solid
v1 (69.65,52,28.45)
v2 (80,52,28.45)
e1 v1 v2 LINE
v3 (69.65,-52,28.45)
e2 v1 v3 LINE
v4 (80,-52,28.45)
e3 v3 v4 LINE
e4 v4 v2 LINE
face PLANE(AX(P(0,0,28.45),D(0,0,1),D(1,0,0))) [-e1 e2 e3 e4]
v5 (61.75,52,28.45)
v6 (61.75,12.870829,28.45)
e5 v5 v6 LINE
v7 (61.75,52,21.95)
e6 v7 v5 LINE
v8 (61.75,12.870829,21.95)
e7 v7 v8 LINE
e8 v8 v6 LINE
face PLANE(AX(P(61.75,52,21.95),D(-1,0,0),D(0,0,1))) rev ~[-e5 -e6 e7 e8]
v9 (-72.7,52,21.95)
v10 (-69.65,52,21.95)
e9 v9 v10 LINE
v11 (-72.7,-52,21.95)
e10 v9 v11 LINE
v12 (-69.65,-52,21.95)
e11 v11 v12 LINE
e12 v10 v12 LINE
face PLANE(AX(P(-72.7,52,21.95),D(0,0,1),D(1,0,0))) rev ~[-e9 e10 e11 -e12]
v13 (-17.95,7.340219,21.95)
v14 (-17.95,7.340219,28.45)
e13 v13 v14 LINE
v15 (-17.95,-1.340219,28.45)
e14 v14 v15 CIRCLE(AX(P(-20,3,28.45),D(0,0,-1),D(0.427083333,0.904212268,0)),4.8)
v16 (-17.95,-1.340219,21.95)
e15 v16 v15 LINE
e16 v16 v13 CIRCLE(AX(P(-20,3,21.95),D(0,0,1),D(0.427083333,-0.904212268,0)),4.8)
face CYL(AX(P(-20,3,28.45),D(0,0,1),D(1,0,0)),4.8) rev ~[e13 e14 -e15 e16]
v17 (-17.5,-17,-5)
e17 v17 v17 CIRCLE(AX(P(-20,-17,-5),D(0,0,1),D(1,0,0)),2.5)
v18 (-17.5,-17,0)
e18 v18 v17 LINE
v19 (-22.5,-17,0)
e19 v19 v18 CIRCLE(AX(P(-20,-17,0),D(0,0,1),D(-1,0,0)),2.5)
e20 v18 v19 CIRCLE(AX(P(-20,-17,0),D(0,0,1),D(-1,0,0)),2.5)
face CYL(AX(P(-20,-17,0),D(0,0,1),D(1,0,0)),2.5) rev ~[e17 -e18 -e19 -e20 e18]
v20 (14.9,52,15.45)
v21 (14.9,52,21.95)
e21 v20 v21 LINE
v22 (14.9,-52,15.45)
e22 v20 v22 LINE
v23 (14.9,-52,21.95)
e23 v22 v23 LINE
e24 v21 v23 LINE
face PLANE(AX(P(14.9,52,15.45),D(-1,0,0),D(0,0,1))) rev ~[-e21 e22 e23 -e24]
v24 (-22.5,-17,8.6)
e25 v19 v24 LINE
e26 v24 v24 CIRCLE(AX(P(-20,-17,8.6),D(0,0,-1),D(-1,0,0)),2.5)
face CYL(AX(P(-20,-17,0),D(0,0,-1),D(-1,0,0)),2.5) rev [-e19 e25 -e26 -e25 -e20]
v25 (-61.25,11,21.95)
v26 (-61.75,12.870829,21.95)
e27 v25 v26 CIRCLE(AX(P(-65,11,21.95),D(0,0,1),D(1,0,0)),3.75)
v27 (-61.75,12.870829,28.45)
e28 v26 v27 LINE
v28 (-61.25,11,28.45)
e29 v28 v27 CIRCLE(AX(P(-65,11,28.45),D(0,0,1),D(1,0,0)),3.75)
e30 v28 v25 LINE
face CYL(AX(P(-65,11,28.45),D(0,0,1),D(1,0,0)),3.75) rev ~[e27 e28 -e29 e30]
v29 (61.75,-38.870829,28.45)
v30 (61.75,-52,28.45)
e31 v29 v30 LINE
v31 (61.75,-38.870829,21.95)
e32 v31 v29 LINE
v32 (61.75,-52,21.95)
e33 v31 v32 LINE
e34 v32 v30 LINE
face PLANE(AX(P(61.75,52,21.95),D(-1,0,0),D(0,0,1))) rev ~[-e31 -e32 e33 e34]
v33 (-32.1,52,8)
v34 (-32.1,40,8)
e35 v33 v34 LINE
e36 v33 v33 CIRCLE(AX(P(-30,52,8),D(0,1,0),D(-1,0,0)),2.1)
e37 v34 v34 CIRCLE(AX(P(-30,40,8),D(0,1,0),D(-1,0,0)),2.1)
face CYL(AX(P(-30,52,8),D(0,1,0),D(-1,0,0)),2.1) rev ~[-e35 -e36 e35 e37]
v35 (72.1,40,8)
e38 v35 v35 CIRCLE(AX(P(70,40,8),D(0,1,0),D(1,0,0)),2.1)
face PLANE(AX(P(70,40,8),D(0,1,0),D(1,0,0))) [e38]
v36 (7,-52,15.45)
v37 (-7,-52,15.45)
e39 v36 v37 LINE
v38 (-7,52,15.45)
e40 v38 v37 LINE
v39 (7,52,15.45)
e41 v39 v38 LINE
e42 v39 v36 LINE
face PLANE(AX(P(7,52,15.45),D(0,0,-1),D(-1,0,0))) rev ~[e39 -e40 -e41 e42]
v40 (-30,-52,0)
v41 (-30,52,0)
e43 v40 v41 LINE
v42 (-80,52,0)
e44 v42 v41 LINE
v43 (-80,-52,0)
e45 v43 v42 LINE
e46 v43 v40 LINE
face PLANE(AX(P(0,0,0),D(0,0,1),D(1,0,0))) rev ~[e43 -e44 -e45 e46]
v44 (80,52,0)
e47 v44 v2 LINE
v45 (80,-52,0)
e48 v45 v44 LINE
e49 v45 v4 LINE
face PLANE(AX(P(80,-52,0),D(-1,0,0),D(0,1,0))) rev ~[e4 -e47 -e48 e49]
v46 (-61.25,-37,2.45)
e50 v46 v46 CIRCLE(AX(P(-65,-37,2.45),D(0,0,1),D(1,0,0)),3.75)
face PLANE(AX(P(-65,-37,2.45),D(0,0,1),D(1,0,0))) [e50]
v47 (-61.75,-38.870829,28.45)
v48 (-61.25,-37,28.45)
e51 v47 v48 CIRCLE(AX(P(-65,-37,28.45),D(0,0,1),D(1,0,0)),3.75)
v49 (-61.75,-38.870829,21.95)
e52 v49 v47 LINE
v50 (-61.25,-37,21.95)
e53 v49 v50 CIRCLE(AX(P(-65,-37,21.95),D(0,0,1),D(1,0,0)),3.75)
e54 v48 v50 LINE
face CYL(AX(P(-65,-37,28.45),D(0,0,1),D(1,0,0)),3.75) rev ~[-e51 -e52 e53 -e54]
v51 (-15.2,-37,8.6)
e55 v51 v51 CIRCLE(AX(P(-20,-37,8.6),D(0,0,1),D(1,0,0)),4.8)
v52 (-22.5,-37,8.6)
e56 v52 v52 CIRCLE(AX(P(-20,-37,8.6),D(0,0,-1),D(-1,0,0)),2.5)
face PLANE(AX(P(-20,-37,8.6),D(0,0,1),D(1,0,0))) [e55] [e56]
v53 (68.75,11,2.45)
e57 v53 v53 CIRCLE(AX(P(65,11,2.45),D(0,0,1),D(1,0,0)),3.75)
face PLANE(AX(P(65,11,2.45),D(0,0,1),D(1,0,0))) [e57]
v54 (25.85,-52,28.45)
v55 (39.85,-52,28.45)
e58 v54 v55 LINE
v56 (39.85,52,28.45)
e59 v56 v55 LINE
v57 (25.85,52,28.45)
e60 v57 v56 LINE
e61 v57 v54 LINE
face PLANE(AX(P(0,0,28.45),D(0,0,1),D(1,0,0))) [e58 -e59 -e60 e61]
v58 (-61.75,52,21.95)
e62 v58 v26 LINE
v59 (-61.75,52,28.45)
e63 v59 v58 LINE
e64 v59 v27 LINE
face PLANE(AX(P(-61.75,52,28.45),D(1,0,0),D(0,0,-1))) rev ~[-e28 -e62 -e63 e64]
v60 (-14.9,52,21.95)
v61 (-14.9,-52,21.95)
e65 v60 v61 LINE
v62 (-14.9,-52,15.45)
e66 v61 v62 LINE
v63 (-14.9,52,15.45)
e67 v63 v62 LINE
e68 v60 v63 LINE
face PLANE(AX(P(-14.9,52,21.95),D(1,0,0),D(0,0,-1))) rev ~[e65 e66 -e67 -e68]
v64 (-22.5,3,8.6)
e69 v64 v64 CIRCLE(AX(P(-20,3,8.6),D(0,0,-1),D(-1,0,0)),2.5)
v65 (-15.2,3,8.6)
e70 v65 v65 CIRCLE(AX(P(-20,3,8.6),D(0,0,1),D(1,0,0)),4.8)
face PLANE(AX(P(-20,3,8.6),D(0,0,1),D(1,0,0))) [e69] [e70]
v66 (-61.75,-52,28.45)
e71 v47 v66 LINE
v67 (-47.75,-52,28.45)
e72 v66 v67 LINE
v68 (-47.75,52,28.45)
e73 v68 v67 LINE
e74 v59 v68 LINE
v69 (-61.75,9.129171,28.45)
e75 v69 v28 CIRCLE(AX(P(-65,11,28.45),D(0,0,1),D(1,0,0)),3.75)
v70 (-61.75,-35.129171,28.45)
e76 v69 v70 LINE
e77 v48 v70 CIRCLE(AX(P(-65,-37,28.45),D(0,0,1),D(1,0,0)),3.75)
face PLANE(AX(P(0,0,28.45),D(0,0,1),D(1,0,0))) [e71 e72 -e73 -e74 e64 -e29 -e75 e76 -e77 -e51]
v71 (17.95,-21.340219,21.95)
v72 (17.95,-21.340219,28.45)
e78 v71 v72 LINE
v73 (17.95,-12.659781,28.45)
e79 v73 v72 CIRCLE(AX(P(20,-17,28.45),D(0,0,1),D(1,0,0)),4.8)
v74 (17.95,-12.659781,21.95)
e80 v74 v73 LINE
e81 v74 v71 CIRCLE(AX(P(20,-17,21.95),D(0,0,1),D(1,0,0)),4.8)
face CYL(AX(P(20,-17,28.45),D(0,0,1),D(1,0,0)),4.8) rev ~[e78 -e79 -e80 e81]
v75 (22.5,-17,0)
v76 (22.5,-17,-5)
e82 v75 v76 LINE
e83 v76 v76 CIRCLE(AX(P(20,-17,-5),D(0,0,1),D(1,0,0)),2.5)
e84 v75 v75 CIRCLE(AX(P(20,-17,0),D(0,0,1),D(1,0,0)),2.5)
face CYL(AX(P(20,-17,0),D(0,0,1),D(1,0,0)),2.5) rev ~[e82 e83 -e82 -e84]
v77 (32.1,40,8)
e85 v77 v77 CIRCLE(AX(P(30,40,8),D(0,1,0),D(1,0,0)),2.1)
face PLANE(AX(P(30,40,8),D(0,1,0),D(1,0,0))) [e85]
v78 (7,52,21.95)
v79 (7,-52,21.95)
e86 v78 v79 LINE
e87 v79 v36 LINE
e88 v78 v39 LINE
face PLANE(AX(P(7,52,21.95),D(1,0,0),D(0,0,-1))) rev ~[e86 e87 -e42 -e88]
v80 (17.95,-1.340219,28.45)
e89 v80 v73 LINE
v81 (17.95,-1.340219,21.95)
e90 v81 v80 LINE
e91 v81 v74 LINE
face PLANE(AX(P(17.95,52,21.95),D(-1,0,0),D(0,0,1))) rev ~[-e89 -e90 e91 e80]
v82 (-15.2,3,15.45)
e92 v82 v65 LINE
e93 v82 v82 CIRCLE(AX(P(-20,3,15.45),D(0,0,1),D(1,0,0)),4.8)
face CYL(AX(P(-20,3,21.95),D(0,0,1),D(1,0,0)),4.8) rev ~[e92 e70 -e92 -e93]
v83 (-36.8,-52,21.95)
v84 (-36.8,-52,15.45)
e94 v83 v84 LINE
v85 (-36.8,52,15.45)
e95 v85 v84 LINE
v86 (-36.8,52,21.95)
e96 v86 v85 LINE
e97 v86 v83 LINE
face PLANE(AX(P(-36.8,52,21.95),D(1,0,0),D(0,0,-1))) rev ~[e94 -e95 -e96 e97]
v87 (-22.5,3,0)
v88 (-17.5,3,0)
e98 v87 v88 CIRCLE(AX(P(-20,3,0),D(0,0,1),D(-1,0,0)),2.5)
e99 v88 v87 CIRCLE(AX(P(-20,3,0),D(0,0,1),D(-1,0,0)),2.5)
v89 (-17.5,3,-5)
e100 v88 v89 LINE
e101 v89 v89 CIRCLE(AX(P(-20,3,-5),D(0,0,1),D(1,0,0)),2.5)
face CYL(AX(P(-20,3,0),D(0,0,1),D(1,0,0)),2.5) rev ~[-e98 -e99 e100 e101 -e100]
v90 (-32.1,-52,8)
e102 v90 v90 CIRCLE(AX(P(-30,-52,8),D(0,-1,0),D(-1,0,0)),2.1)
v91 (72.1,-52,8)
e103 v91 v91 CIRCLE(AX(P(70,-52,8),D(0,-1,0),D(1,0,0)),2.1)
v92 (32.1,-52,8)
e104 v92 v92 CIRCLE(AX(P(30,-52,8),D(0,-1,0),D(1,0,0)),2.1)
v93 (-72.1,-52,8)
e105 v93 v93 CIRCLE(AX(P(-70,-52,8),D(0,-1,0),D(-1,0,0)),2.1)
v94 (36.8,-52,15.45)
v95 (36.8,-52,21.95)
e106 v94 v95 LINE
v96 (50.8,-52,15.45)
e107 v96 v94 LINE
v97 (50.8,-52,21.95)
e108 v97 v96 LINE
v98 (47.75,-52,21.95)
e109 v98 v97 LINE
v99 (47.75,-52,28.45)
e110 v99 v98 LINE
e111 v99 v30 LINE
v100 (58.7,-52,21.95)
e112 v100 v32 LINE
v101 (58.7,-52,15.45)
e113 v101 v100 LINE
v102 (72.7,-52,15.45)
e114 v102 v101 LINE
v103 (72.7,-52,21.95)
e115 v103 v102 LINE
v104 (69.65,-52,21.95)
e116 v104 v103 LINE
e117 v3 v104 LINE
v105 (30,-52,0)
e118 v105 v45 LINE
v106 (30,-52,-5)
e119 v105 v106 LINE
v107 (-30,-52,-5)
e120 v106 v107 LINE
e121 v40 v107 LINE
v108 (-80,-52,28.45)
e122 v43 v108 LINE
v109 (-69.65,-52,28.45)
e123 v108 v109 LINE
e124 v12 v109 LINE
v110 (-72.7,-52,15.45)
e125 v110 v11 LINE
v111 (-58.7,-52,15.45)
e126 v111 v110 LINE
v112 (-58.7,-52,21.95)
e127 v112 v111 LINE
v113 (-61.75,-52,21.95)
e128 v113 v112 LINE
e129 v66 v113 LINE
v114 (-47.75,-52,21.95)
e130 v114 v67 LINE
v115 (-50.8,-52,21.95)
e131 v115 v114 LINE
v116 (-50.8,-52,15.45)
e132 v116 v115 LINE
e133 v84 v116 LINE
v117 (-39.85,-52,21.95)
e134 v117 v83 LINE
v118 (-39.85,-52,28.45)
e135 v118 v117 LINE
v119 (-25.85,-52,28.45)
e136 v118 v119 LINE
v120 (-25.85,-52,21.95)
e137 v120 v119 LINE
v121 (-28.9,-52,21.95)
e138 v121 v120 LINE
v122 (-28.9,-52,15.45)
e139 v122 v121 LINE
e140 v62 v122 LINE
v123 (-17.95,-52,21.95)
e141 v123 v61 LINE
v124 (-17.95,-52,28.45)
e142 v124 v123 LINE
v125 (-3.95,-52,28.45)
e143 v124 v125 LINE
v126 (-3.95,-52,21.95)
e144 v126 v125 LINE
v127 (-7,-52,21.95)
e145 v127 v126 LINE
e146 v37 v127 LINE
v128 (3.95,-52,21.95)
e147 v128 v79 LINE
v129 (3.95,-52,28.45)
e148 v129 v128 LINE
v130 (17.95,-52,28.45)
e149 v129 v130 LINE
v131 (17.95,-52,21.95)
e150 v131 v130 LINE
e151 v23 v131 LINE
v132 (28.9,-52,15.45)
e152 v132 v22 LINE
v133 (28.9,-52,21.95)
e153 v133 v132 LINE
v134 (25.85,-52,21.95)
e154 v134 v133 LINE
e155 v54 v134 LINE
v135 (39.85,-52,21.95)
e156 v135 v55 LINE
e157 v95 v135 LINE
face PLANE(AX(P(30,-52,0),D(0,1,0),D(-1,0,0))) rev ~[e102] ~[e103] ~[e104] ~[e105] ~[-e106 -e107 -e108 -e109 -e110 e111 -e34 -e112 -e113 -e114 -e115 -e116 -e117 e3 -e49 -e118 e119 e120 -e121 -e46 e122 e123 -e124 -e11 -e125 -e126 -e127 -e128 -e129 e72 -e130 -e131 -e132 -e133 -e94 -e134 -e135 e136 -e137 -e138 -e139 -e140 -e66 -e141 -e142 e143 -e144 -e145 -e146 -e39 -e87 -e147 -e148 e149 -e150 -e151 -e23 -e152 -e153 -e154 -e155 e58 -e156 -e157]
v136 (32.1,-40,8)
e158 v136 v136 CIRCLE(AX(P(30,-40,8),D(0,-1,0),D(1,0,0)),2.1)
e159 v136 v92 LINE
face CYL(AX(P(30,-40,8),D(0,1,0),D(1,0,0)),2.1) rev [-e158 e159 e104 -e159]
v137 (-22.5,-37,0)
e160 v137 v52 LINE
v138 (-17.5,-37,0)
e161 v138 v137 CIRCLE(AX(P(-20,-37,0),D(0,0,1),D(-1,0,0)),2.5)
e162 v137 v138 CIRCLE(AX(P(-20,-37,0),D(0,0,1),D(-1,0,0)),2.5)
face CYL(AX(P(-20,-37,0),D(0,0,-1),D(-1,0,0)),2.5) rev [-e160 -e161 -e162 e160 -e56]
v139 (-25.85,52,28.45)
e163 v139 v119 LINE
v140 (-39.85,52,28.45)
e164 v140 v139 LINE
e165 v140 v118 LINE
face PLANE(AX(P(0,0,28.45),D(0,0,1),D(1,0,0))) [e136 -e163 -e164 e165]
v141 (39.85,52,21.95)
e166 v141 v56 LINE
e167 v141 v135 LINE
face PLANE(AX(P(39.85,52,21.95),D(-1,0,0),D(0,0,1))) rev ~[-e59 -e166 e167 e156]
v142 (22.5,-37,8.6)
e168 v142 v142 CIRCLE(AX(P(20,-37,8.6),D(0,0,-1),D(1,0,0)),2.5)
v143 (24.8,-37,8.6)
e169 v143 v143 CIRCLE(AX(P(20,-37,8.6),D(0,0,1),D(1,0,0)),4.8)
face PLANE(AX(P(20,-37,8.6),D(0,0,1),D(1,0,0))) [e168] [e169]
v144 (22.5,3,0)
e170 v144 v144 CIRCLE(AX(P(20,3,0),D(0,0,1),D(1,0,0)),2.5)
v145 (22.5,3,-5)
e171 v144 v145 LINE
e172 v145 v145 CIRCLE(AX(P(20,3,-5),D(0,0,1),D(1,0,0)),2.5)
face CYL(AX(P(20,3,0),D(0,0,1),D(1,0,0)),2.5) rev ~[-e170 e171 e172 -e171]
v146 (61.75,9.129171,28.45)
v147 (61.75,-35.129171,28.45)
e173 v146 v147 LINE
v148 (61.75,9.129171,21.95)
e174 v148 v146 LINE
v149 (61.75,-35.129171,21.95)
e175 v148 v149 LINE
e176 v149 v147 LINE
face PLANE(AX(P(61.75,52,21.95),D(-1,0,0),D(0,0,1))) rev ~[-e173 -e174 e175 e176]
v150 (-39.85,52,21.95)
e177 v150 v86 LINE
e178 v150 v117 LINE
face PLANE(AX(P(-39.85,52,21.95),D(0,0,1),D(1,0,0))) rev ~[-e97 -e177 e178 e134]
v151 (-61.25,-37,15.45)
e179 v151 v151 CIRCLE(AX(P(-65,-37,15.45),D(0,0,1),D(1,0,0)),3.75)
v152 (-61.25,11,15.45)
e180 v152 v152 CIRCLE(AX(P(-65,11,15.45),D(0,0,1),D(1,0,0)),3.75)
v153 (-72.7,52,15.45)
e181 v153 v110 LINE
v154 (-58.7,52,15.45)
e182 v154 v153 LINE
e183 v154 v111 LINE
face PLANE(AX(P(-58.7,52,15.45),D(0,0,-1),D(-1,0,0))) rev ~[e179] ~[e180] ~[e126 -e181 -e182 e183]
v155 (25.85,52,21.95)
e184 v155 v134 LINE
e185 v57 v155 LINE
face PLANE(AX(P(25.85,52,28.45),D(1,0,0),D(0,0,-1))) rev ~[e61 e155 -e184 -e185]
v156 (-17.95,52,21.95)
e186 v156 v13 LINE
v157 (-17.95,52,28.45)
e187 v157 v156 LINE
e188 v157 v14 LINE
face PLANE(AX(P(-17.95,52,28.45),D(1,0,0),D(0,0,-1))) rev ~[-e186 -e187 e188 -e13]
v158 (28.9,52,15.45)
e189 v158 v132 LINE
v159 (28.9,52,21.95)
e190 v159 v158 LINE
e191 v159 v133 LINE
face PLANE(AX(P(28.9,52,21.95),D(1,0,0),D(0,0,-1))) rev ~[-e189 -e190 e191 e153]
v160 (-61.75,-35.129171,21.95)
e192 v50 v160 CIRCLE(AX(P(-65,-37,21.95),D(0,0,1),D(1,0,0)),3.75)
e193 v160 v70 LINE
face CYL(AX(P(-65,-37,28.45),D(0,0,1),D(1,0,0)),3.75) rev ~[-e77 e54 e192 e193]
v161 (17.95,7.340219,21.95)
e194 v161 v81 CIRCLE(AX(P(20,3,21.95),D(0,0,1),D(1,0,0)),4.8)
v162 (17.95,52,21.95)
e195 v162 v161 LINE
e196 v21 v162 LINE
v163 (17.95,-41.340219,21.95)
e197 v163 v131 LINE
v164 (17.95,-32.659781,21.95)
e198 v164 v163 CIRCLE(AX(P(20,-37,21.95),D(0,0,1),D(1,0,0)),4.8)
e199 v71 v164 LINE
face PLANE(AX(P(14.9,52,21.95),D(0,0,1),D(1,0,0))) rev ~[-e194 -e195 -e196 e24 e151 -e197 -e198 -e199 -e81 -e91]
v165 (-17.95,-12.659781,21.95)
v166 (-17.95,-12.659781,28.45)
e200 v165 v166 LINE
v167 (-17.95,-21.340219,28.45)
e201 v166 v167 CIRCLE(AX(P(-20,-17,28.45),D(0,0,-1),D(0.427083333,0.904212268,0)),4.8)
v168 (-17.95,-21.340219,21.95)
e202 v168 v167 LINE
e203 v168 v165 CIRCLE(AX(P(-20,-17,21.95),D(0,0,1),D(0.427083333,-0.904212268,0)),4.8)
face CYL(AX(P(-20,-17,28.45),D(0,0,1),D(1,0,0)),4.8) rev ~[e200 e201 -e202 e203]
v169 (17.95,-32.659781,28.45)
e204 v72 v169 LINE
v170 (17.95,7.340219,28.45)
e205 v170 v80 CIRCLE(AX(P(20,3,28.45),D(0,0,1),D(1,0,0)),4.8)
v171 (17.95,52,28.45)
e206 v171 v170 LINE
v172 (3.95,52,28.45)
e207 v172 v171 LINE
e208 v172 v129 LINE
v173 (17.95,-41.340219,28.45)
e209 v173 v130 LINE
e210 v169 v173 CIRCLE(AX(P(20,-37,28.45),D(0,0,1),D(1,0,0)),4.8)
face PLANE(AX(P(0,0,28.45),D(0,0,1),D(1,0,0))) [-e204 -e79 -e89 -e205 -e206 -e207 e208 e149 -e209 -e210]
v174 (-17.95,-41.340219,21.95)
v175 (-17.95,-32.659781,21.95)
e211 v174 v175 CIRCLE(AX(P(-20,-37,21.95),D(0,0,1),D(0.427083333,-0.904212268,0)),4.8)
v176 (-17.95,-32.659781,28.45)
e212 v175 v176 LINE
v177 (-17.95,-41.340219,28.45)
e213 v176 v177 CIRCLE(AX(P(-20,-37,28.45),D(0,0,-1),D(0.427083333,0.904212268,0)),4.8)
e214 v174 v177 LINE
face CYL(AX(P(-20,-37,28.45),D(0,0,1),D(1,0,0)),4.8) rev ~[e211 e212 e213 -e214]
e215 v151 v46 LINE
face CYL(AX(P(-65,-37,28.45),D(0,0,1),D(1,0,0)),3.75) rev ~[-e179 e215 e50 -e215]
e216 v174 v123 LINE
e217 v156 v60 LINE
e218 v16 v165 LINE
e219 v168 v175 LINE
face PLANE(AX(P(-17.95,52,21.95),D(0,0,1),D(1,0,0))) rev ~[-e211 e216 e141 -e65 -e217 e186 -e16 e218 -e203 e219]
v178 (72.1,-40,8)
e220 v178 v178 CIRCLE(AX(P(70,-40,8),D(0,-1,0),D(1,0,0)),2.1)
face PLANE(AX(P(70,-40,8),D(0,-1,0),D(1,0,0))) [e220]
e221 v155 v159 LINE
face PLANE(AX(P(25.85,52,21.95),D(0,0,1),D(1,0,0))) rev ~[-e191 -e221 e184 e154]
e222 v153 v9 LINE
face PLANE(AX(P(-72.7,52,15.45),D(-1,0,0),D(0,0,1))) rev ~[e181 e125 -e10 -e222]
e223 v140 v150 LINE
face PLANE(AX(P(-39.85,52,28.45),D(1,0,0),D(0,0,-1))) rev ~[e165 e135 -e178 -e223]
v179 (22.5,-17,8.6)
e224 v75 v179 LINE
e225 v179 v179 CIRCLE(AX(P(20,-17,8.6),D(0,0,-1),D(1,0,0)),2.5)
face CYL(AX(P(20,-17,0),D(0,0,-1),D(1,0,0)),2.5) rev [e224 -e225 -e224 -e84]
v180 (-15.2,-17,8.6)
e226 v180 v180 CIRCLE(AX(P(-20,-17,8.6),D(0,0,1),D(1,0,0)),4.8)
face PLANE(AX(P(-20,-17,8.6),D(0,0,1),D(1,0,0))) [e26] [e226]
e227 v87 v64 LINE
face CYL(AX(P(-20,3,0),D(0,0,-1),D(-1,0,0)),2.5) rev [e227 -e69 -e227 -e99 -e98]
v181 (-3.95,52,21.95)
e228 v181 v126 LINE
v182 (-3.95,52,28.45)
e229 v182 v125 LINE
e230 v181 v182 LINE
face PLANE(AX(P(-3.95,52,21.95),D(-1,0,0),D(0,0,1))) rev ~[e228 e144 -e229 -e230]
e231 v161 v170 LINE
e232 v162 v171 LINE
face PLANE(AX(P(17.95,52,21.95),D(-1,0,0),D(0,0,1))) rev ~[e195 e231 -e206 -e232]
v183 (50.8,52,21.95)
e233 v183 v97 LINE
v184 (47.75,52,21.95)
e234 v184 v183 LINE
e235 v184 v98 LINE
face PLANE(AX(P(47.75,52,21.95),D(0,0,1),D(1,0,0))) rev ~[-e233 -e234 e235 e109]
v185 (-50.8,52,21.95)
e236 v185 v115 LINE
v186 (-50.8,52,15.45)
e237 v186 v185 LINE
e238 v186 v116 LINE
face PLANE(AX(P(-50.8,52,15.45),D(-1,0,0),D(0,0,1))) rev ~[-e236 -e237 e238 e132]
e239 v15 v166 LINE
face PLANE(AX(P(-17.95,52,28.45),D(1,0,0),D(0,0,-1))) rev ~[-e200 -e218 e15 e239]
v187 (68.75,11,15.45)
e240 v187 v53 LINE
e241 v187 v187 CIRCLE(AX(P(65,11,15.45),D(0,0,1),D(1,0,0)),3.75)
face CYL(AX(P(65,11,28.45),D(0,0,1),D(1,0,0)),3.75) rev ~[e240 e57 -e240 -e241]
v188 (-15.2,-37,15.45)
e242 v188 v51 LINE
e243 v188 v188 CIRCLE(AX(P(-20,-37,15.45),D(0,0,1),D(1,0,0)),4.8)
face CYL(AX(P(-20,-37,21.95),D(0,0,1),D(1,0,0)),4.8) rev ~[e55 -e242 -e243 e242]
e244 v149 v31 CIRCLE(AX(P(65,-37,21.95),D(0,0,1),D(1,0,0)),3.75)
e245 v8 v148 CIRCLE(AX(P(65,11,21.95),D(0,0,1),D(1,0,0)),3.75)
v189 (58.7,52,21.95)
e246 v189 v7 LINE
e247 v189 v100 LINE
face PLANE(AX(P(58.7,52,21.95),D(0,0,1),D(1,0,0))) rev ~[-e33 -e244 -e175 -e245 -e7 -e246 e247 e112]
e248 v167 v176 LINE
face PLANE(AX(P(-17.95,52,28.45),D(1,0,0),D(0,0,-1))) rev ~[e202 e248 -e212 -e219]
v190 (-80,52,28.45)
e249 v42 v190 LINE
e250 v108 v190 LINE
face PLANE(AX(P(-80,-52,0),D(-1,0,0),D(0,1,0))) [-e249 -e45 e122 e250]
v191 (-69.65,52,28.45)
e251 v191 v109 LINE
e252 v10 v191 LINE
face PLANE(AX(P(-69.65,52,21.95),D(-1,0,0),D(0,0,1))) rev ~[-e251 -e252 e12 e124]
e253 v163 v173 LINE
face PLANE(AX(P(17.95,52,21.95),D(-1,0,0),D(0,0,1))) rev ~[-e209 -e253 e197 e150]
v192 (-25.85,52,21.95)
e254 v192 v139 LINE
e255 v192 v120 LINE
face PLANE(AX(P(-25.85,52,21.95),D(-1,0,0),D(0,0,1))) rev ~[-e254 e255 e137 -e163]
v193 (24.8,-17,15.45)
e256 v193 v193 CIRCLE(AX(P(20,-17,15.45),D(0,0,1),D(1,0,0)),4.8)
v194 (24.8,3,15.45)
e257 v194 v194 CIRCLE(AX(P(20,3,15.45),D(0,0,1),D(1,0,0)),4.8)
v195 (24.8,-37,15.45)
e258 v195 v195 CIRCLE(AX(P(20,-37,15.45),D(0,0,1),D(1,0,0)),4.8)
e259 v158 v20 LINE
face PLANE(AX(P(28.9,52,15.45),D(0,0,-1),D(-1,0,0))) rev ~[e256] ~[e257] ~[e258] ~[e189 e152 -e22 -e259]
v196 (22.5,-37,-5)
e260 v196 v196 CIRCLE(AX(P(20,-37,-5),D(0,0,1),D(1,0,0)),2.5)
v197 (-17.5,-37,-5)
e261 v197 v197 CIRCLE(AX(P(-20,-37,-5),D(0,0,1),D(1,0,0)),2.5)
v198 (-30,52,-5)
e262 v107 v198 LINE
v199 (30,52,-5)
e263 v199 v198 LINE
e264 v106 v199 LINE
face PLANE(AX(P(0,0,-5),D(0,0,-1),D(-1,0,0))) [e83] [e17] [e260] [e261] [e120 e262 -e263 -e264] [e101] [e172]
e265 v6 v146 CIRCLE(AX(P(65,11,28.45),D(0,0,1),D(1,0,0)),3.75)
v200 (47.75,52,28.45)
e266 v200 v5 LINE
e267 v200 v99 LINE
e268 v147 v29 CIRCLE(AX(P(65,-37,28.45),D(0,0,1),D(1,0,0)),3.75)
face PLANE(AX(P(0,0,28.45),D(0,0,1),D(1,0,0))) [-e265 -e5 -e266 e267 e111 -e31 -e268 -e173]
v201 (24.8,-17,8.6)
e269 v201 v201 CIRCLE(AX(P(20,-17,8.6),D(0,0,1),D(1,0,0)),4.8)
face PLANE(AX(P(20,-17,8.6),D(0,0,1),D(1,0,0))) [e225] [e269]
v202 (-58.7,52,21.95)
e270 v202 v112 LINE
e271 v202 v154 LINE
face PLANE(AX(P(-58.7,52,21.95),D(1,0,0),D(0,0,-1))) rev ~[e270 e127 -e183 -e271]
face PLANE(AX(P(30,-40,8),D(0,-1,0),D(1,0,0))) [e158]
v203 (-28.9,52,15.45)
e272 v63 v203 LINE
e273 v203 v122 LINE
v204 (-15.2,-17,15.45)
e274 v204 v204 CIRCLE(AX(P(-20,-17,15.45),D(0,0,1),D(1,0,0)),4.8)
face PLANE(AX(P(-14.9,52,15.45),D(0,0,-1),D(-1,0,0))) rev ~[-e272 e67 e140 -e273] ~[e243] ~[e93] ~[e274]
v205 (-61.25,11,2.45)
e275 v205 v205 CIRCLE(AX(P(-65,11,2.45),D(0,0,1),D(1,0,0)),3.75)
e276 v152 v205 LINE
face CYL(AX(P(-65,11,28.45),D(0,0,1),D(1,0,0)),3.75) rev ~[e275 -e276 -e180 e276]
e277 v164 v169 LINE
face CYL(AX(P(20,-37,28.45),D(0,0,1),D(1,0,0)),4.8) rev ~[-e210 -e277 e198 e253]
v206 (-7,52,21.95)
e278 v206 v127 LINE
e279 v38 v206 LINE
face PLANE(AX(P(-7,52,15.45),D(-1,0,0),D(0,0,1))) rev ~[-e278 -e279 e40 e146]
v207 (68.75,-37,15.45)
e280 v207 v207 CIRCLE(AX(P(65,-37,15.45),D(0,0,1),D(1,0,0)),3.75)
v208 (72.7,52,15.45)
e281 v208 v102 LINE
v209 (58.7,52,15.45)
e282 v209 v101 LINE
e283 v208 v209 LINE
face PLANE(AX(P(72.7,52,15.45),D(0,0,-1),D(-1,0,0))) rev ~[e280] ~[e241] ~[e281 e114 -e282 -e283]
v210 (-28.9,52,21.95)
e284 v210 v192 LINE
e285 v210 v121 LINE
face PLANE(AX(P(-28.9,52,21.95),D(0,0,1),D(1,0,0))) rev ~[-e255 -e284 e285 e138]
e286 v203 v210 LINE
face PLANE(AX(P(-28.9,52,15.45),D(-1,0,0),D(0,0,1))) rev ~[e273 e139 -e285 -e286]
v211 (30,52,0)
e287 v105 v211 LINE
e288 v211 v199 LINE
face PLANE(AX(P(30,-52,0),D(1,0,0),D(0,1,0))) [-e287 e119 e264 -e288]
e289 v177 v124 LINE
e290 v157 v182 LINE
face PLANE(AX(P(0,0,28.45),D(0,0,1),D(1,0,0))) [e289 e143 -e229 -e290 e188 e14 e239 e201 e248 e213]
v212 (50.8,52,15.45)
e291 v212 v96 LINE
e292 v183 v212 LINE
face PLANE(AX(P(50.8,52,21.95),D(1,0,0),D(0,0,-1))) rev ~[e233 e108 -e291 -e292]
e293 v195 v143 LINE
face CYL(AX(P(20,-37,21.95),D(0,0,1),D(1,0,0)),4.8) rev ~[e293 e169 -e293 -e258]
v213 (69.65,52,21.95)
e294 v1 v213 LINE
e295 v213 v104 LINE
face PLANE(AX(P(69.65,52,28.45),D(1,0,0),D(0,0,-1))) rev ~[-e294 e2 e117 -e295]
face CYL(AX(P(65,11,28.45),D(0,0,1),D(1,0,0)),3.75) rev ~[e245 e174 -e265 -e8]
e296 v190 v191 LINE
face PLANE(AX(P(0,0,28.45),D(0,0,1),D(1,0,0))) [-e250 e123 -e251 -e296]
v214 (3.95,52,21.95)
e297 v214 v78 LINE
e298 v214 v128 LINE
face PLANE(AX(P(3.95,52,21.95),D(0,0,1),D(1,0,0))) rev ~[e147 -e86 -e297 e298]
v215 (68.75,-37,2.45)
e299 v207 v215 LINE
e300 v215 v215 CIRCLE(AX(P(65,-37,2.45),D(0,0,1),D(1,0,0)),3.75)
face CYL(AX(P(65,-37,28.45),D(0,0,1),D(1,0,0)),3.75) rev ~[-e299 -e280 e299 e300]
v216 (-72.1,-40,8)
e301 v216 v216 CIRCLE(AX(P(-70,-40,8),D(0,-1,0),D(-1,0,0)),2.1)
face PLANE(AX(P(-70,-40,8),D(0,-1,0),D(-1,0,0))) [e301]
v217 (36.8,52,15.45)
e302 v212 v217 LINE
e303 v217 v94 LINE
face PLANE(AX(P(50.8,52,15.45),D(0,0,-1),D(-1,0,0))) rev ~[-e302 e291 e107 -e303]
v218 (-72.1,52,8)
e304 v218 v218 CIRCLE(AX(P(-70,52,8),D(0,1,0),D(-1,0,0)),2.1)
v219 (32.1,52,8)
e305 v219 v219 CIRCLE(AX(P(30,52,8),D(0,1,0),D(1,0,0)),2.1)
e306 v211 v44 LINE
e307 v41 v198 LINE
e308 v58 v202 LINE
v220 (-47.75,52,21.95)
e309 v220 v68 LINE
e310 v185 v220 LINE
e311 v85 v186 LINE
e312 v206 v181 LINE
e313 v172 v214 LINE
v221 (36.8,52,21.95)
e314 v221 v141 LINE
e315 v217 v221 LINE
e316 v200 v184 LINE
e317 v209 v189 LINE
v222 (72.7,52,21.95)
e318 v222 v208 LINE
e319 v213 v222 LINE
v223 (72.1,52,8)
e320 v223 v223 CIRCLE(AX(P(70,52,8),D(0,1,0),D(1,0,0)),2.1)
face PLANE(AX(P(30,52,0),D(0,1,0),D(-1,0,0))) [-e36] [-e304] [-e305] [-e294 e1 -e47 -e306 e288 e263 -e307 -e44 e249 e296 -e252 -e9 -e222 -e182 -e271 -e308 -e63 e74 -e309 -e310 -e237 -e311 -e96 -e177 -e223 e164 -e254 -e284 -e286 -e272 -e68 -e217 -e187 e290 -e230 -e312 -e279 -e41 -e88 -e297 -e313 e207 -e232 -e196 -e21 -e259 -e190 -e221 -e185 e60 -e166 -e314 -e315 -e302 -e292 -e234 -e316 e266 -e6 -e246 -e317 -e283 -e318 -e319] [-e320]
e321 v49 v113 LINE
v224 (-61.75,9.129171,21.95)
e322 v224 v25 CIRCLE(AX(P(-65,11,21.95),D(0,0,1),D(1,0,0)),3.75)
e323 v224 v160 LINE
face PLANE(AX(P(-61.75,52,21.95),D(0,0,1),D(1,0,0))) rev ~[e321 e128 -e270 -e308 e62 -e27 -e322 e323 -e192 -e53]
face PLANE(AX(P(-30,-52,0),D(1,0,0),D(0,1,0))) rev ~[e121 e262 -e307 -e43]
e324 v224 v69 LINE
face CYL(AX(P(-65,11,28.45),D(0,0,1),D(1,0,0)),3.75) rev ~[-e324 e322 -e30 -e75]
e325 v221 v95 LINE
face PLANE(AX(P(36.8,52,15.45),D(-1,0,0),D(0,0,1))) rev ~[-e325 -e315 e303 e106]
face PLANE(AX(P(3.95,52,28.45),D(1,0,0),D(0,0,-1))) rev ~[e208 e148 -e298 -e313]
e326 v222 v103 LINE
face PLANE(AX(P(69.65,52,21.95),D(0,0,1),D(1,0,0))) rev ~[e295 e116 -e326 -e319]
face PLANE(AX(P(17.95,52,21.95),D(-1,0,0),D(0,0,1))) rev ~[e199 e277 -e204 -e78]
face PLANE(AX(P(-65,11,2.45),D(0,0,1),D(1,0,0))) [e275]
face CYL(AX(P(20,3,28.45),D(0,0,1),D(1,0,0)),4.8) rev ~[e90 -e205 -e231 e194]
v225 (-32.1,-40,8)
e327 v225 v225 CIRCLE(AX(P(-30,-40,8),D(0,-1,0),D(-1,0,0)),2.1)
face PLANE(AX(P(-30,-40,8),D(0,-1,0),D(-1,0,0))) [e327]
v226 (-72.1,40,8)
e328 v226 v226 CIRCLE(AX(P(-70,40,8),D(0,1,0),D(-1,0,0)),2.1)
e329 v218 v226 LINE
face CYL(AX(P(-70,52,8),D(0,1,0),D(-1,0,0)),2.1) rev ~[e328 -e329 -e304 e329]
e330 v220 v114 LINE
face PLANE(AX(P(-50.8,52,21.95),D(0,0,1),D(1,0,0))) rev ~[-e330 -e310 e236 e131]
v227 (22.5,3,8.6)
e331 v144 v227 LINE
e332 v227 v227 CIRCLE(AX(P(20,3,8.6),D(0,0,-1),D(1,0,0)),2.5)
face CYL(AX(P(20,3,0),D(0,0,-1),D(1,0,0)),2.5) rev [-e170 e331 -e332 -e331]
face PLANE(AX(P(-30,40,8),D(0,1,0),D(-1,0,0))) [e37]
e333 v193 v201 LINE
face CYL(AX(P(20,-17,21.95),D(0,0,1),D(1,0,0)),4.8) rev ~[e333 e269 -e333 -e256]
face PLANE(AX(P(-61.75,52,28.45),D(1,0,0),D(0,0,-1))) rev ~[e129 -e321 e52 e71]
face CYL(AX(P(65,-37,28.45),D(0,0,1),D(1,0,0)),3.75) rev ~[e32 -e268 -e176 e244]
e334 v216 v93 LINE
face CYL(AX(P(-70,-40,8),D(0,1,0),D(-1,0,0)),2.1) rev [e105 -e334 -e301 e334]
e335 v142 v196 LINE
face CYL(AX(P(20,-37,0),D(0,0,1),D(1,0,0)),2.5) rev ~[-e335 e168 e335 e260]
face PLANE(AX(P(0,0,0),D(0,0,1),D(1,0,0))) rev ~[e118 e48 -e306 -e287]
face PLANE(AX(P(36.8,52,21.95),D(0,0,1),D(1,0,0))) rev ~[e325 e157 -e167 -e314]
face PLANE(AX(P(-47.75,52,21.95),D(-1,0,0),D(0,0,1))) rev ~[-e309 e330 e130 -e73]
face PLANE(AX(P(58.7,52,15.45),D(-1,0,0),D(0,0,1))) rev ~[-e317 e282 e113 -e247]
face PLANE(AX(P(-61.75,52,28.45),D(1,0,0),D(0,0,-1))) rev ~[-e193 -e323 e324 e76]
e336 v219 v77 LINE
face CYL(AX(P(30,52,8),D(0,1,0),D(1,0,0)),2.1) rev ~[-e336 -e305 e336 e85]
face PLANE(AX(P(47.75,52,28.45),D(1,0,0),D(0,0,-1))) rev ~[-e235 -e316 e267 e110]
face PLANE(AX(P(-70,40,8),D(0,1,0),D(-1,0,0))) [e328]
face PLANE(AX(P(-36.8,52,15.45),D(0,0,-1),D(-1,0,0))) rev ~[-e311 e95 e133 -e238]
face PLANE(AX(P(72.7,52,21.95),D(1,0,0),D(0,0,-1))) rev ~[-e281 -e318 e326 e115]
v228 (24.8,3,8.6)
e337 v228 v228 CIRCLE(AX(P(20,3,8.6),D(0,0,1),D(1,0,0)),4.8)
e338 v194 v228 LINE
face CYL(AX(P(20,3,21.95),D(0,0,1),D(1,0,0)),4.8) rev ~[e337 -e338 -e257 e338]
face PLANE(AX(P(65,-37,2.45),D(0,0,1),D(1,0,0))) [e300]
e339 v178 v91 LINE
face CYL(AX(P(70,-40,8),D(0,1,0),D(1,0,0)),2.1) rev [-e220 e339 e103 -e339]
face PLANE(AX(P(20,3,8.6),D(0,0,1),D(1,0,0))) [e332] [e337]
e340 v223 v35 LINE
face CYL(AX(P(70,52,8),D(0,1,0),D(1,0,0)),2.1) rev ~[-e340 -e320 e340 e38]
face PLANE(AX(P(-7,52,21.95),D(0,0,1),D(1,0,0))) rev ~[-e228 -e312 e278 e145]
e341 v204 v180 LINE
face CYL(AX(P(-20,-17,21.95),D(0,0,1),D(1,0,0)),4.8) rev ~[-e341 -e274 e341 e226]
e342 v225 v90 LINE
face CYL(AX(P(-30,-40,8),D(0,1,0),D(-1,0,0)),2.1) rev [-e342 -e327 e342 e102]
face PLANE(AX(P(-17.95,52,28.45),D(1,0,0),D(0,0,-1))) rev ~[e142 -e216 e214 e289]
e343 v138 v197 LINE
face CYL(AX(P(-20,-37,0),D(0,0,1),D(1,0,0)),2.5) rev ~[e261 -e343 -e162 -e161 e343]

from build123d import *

# Parameters (mm, degrees)
SKETCH1_W           = 160
SKETCH1_H           = 104
SKETCH1_R           = 2.5
BOSS_EXTRUDE1_DEPTH = 28.45
CUT_EXTRUDE1_DEPTH  = 135.258714801
SKETCH5_W           = 60
SKETCH5_H           = 104
BOSS_EXTRUDE2_DEPTH = 5
SKETCH3_R           = 4.8
CUT_EXTRUDE2_DEPTH  = 7
CUT_EXTRUDE3_START  = 6.5
SKETCH4_R           = 4.8
CUT_EXTRUDE3_DEPTH  = 13.35
SKETCH6_R           = 2.5
CUT_EXTRUDE4_DEPTH  = 100.566071028
SKETCH7_R           = 2.1
CUT_EXTRUDE5_DEPTH  = 12
CUT_EXTRUDE6_START  = -12
SKETCH8_R           = 2.1
CUT_EXTRUDE6_DEPTH  = 12
SKETCH9_R           = 3.75
CUT_EXTRUDE7_DEPTH  = 26


with BuildPart() as part:
    # Sketch1 → Boss-Extrude1 (new body)
    with BuildSketch(Plane.XY):
        Rectangle(SKETCH1_W, SKETCH1_H)
        with Locations((20, -37)):
            Circle(SKETCH1_R, mode=Mode.SUBTRACT)
        with Locations(Location((-20, -37, 0), (0, 0, 180))):
            Circle(SKETCH1_R, mode=Mode.SUBTRACT)
        with Locations((20, -17)):
            Circle(SKETCH1_R, mode=Mode.SUBTRACT)
        with Locations((20, 3)):
            Circle(SKETCH1_R, mode=Mode.SUBTRACT)
        with Locations(Location((-20, 3, 0), (0, 0, 180))):
            Circle(SKETCH1_R, mode=Mode.SUBTRACT)
        with Locations(Location((-20, -17, 0), (0, 0, 180))):
            Circle(SKETCH1_R, mode=Mode.SUBTRACT)
    extrude(amount=BOSS_EXTRUDE1_DEPTH)

    # Sketch2 → Cut-Extrude1 (cut, through all)
    with BuildSketch(Plane(origin=(0, 52, 0), x_dir=(1, 0, 0), z_dir=(0, 1, 0))):
        Polygon((-3.95, -28.45), (3.95, -28.45), (3.95, -21.95), (7, -21.95), (7, -15.45), (-7, -15.45), (-7, -21.95), (-3.95, -21.95), align=None)
        Polygon((25.85, -28.45), (25.85, -21.95), (28.9, -21.95), (28.9, -15.45), (14.9, -15.45), (14.9, -21.95), (17.95, -21.95), (17.95, -28.45), align=None)
        Polygon((47.75, -28.45), (47.75, -21.95), (50.8, -21.95), (50.8, -15.45), (36.8, -15.45), (36.8, -21.95), (39.85, -21.95), (39.85, -28.45), align=None)
        Polygon((69.65, -28.45), (69.65, -21.95), (72.7, -21.95), (72.7, -15.45), (58.7, -15.45), (58.7, -21.95), (61.75, -21.95), (61.75, -28.45), align=None)
        Polygon((-28.9, -15.45), (-28.9, -21.95), (-25.85, -21.95), (-25.85, -28.45), (-17.95, -28.45), (-17.95, -21.95), (-14.9, -21.95), (-14.9, -15.45), align=None)
        Polygon((-50.8, -15.45), (-50.8, -21.95), (-47.75, -21.95), (-47.75, -28.45), (-39.85, -28.45), (-39.85, -21.95), (-36.8, -21.95), (-36.8, -15.45), align=None)
        Polygon((-72.7, -15.45), (-72.7, -21.95), (-69.65, -21.95), (-69.65, -28.45), (-61.75, -28.45), (-61.75, -21.95), (-58.7, -21.95), (-58.7, -15.45), align=None)
    extrude(amount=-CUT_EXTRUDE1_DEPTH, mode=Mode.SUBTRACT)

    # Sketch5 → Boss-Extrude2 (add)
    with BuildSketch(Plane(origin=(0, 0, 0), x_dir=(-1, 0, 0), z_dir=(0, 0, -1))):
        Rectangle(SKETCH5_W, SKETCH5_H)
    extrude(amount=BOSS_EXTRUDE2_DEPTH)

    # Sketch3 → Cut-Extrude2 (cut)
    with BuildSketch(Plane.XY.offset(28.45)):
        with Locations((-20, 3)):
            Circle(SKETCH3_R)
        with Locations((20, 3)):
            Circle(SKETCH3_R)
        with Locations((-20, -17)):
            Circle(SKETCH3_R)
        with Locations((20, -17)):
            Circle(SKETCH3_R)
        with Locations((-20, -37)):
            Circle(SKETCH3_R)
        with Locations((20, -37)):
            Circle(SKETCH3_R)
    extrude(amount=-CUT_EXTRUDE2_DEPTH, mode=Mode.SUBTRACT)

    # Sketch4 → Cut-Extrude3 (cut)
    with BuildSketch(Plane.XY.offset(15.45).offset(CUT_EXTRUDE3_START)):
        with Locations((-20, 3)):
            Circle(SKETCH4_R)
        with Locations((20, 3)):
            Circle(SKETCH4_R)
        with Locations((-20, -17)):
            Circle(SKETCH4_R)
        with Locations((20, -17)):
            Circle(SKETCH4_R)
        with Locations((-20, -37)):
            Circle(SKETCH4_R)
        with Locations((20, -37)):
            Circle(SKETCH4_R)
    extrude(amount=-CUT_EXTRUDE3_DEPTH, mode=Mode.SUBTRACT)

    # Sketch6 → Cut-Extrude4 (cut, through all)
    with BuildSketch(Plane.XY):
        with Locations((-20, 3)):
            Circle(SKETCH6_R)
        with Locations((20, 3)):
            Circle(SKETCH6_R)
        with Locations((-20, -17)):
            Circle(SKETCH6_R)
        with Locations((20, -17)):
            Circle(SKETCH6_R)
        with Locations((20, -37)):
            Circle(SKETCH6_R)
        with Locations((-20, -37)):
            Circle(SKETCH6_R)
    extrude(amount=-CUT_EXTRUDE4_DEPTH, mode=Mode.SUBTRACT)

    # Sketch7 → Cut-Extrude5 (cut)
    with BuildSketch(Plane(origin=(0, 52, 0), x_dir=(1, 0, 0), z_dir=(0, 1, 0))):
        with Locations(Location((-70, -8, 0), (0, 0, 180))):
            Circle(SKETCH7_R)
        with Locations(Location((-30, -8, 0), (0, 0, 180))):
            Circle(SKETCH7_R)
        with Locations((70, -8)):
            Circle(SKETCH7_R)
        with Locations((30, -8)):
            Circle(SKETCH7_R)
    extrude(amount=-CUT_EXTRUDE5_DEPTH, mode=Mode.SUBTRACT)

    # Sketch8 → Cut-Extrude6 (cut)
    with BuildSketch(Plane.XZ.offset(52).offset(CUT_EXTRUDE6_START)):
        with Locations((70, 8)):
            Circle(SKETCH8_R)
        with Locations((30, 8)):
            Circle(SKETCH8_R)
        with Locations(Location((-30, 8, 0), (0, 0, 180))):
            Circle(SKETCH8_R)
        with Locations(Location((-70, 8, 0), (0, 0, 180))):
            Circle(SKETCH8_R)
    extrude(amount=CUT_EXTRUDE6_DEPTH, mode=Mode.SUBTRACT)

    # Sketch9 → Cut-Extrude7 (cut)
    with BuildSketch(Plane.XY.offset(28.45)):
        with Locations((-65, 11)):
            Circle(SKETCH9_R)
        with Locations((-65, -37)):
            Circle(SKETCH9_R)
        with Locations((65, -37)):
            Circle(SKETCH9_R)
        with Locations((65, 11)):
            Circle(SKETCH9_R)
    extrude(amount=-CUT_EXTRUDE7_DEPTH, mode=Mode.SUBTRACT)


solid = part.part
